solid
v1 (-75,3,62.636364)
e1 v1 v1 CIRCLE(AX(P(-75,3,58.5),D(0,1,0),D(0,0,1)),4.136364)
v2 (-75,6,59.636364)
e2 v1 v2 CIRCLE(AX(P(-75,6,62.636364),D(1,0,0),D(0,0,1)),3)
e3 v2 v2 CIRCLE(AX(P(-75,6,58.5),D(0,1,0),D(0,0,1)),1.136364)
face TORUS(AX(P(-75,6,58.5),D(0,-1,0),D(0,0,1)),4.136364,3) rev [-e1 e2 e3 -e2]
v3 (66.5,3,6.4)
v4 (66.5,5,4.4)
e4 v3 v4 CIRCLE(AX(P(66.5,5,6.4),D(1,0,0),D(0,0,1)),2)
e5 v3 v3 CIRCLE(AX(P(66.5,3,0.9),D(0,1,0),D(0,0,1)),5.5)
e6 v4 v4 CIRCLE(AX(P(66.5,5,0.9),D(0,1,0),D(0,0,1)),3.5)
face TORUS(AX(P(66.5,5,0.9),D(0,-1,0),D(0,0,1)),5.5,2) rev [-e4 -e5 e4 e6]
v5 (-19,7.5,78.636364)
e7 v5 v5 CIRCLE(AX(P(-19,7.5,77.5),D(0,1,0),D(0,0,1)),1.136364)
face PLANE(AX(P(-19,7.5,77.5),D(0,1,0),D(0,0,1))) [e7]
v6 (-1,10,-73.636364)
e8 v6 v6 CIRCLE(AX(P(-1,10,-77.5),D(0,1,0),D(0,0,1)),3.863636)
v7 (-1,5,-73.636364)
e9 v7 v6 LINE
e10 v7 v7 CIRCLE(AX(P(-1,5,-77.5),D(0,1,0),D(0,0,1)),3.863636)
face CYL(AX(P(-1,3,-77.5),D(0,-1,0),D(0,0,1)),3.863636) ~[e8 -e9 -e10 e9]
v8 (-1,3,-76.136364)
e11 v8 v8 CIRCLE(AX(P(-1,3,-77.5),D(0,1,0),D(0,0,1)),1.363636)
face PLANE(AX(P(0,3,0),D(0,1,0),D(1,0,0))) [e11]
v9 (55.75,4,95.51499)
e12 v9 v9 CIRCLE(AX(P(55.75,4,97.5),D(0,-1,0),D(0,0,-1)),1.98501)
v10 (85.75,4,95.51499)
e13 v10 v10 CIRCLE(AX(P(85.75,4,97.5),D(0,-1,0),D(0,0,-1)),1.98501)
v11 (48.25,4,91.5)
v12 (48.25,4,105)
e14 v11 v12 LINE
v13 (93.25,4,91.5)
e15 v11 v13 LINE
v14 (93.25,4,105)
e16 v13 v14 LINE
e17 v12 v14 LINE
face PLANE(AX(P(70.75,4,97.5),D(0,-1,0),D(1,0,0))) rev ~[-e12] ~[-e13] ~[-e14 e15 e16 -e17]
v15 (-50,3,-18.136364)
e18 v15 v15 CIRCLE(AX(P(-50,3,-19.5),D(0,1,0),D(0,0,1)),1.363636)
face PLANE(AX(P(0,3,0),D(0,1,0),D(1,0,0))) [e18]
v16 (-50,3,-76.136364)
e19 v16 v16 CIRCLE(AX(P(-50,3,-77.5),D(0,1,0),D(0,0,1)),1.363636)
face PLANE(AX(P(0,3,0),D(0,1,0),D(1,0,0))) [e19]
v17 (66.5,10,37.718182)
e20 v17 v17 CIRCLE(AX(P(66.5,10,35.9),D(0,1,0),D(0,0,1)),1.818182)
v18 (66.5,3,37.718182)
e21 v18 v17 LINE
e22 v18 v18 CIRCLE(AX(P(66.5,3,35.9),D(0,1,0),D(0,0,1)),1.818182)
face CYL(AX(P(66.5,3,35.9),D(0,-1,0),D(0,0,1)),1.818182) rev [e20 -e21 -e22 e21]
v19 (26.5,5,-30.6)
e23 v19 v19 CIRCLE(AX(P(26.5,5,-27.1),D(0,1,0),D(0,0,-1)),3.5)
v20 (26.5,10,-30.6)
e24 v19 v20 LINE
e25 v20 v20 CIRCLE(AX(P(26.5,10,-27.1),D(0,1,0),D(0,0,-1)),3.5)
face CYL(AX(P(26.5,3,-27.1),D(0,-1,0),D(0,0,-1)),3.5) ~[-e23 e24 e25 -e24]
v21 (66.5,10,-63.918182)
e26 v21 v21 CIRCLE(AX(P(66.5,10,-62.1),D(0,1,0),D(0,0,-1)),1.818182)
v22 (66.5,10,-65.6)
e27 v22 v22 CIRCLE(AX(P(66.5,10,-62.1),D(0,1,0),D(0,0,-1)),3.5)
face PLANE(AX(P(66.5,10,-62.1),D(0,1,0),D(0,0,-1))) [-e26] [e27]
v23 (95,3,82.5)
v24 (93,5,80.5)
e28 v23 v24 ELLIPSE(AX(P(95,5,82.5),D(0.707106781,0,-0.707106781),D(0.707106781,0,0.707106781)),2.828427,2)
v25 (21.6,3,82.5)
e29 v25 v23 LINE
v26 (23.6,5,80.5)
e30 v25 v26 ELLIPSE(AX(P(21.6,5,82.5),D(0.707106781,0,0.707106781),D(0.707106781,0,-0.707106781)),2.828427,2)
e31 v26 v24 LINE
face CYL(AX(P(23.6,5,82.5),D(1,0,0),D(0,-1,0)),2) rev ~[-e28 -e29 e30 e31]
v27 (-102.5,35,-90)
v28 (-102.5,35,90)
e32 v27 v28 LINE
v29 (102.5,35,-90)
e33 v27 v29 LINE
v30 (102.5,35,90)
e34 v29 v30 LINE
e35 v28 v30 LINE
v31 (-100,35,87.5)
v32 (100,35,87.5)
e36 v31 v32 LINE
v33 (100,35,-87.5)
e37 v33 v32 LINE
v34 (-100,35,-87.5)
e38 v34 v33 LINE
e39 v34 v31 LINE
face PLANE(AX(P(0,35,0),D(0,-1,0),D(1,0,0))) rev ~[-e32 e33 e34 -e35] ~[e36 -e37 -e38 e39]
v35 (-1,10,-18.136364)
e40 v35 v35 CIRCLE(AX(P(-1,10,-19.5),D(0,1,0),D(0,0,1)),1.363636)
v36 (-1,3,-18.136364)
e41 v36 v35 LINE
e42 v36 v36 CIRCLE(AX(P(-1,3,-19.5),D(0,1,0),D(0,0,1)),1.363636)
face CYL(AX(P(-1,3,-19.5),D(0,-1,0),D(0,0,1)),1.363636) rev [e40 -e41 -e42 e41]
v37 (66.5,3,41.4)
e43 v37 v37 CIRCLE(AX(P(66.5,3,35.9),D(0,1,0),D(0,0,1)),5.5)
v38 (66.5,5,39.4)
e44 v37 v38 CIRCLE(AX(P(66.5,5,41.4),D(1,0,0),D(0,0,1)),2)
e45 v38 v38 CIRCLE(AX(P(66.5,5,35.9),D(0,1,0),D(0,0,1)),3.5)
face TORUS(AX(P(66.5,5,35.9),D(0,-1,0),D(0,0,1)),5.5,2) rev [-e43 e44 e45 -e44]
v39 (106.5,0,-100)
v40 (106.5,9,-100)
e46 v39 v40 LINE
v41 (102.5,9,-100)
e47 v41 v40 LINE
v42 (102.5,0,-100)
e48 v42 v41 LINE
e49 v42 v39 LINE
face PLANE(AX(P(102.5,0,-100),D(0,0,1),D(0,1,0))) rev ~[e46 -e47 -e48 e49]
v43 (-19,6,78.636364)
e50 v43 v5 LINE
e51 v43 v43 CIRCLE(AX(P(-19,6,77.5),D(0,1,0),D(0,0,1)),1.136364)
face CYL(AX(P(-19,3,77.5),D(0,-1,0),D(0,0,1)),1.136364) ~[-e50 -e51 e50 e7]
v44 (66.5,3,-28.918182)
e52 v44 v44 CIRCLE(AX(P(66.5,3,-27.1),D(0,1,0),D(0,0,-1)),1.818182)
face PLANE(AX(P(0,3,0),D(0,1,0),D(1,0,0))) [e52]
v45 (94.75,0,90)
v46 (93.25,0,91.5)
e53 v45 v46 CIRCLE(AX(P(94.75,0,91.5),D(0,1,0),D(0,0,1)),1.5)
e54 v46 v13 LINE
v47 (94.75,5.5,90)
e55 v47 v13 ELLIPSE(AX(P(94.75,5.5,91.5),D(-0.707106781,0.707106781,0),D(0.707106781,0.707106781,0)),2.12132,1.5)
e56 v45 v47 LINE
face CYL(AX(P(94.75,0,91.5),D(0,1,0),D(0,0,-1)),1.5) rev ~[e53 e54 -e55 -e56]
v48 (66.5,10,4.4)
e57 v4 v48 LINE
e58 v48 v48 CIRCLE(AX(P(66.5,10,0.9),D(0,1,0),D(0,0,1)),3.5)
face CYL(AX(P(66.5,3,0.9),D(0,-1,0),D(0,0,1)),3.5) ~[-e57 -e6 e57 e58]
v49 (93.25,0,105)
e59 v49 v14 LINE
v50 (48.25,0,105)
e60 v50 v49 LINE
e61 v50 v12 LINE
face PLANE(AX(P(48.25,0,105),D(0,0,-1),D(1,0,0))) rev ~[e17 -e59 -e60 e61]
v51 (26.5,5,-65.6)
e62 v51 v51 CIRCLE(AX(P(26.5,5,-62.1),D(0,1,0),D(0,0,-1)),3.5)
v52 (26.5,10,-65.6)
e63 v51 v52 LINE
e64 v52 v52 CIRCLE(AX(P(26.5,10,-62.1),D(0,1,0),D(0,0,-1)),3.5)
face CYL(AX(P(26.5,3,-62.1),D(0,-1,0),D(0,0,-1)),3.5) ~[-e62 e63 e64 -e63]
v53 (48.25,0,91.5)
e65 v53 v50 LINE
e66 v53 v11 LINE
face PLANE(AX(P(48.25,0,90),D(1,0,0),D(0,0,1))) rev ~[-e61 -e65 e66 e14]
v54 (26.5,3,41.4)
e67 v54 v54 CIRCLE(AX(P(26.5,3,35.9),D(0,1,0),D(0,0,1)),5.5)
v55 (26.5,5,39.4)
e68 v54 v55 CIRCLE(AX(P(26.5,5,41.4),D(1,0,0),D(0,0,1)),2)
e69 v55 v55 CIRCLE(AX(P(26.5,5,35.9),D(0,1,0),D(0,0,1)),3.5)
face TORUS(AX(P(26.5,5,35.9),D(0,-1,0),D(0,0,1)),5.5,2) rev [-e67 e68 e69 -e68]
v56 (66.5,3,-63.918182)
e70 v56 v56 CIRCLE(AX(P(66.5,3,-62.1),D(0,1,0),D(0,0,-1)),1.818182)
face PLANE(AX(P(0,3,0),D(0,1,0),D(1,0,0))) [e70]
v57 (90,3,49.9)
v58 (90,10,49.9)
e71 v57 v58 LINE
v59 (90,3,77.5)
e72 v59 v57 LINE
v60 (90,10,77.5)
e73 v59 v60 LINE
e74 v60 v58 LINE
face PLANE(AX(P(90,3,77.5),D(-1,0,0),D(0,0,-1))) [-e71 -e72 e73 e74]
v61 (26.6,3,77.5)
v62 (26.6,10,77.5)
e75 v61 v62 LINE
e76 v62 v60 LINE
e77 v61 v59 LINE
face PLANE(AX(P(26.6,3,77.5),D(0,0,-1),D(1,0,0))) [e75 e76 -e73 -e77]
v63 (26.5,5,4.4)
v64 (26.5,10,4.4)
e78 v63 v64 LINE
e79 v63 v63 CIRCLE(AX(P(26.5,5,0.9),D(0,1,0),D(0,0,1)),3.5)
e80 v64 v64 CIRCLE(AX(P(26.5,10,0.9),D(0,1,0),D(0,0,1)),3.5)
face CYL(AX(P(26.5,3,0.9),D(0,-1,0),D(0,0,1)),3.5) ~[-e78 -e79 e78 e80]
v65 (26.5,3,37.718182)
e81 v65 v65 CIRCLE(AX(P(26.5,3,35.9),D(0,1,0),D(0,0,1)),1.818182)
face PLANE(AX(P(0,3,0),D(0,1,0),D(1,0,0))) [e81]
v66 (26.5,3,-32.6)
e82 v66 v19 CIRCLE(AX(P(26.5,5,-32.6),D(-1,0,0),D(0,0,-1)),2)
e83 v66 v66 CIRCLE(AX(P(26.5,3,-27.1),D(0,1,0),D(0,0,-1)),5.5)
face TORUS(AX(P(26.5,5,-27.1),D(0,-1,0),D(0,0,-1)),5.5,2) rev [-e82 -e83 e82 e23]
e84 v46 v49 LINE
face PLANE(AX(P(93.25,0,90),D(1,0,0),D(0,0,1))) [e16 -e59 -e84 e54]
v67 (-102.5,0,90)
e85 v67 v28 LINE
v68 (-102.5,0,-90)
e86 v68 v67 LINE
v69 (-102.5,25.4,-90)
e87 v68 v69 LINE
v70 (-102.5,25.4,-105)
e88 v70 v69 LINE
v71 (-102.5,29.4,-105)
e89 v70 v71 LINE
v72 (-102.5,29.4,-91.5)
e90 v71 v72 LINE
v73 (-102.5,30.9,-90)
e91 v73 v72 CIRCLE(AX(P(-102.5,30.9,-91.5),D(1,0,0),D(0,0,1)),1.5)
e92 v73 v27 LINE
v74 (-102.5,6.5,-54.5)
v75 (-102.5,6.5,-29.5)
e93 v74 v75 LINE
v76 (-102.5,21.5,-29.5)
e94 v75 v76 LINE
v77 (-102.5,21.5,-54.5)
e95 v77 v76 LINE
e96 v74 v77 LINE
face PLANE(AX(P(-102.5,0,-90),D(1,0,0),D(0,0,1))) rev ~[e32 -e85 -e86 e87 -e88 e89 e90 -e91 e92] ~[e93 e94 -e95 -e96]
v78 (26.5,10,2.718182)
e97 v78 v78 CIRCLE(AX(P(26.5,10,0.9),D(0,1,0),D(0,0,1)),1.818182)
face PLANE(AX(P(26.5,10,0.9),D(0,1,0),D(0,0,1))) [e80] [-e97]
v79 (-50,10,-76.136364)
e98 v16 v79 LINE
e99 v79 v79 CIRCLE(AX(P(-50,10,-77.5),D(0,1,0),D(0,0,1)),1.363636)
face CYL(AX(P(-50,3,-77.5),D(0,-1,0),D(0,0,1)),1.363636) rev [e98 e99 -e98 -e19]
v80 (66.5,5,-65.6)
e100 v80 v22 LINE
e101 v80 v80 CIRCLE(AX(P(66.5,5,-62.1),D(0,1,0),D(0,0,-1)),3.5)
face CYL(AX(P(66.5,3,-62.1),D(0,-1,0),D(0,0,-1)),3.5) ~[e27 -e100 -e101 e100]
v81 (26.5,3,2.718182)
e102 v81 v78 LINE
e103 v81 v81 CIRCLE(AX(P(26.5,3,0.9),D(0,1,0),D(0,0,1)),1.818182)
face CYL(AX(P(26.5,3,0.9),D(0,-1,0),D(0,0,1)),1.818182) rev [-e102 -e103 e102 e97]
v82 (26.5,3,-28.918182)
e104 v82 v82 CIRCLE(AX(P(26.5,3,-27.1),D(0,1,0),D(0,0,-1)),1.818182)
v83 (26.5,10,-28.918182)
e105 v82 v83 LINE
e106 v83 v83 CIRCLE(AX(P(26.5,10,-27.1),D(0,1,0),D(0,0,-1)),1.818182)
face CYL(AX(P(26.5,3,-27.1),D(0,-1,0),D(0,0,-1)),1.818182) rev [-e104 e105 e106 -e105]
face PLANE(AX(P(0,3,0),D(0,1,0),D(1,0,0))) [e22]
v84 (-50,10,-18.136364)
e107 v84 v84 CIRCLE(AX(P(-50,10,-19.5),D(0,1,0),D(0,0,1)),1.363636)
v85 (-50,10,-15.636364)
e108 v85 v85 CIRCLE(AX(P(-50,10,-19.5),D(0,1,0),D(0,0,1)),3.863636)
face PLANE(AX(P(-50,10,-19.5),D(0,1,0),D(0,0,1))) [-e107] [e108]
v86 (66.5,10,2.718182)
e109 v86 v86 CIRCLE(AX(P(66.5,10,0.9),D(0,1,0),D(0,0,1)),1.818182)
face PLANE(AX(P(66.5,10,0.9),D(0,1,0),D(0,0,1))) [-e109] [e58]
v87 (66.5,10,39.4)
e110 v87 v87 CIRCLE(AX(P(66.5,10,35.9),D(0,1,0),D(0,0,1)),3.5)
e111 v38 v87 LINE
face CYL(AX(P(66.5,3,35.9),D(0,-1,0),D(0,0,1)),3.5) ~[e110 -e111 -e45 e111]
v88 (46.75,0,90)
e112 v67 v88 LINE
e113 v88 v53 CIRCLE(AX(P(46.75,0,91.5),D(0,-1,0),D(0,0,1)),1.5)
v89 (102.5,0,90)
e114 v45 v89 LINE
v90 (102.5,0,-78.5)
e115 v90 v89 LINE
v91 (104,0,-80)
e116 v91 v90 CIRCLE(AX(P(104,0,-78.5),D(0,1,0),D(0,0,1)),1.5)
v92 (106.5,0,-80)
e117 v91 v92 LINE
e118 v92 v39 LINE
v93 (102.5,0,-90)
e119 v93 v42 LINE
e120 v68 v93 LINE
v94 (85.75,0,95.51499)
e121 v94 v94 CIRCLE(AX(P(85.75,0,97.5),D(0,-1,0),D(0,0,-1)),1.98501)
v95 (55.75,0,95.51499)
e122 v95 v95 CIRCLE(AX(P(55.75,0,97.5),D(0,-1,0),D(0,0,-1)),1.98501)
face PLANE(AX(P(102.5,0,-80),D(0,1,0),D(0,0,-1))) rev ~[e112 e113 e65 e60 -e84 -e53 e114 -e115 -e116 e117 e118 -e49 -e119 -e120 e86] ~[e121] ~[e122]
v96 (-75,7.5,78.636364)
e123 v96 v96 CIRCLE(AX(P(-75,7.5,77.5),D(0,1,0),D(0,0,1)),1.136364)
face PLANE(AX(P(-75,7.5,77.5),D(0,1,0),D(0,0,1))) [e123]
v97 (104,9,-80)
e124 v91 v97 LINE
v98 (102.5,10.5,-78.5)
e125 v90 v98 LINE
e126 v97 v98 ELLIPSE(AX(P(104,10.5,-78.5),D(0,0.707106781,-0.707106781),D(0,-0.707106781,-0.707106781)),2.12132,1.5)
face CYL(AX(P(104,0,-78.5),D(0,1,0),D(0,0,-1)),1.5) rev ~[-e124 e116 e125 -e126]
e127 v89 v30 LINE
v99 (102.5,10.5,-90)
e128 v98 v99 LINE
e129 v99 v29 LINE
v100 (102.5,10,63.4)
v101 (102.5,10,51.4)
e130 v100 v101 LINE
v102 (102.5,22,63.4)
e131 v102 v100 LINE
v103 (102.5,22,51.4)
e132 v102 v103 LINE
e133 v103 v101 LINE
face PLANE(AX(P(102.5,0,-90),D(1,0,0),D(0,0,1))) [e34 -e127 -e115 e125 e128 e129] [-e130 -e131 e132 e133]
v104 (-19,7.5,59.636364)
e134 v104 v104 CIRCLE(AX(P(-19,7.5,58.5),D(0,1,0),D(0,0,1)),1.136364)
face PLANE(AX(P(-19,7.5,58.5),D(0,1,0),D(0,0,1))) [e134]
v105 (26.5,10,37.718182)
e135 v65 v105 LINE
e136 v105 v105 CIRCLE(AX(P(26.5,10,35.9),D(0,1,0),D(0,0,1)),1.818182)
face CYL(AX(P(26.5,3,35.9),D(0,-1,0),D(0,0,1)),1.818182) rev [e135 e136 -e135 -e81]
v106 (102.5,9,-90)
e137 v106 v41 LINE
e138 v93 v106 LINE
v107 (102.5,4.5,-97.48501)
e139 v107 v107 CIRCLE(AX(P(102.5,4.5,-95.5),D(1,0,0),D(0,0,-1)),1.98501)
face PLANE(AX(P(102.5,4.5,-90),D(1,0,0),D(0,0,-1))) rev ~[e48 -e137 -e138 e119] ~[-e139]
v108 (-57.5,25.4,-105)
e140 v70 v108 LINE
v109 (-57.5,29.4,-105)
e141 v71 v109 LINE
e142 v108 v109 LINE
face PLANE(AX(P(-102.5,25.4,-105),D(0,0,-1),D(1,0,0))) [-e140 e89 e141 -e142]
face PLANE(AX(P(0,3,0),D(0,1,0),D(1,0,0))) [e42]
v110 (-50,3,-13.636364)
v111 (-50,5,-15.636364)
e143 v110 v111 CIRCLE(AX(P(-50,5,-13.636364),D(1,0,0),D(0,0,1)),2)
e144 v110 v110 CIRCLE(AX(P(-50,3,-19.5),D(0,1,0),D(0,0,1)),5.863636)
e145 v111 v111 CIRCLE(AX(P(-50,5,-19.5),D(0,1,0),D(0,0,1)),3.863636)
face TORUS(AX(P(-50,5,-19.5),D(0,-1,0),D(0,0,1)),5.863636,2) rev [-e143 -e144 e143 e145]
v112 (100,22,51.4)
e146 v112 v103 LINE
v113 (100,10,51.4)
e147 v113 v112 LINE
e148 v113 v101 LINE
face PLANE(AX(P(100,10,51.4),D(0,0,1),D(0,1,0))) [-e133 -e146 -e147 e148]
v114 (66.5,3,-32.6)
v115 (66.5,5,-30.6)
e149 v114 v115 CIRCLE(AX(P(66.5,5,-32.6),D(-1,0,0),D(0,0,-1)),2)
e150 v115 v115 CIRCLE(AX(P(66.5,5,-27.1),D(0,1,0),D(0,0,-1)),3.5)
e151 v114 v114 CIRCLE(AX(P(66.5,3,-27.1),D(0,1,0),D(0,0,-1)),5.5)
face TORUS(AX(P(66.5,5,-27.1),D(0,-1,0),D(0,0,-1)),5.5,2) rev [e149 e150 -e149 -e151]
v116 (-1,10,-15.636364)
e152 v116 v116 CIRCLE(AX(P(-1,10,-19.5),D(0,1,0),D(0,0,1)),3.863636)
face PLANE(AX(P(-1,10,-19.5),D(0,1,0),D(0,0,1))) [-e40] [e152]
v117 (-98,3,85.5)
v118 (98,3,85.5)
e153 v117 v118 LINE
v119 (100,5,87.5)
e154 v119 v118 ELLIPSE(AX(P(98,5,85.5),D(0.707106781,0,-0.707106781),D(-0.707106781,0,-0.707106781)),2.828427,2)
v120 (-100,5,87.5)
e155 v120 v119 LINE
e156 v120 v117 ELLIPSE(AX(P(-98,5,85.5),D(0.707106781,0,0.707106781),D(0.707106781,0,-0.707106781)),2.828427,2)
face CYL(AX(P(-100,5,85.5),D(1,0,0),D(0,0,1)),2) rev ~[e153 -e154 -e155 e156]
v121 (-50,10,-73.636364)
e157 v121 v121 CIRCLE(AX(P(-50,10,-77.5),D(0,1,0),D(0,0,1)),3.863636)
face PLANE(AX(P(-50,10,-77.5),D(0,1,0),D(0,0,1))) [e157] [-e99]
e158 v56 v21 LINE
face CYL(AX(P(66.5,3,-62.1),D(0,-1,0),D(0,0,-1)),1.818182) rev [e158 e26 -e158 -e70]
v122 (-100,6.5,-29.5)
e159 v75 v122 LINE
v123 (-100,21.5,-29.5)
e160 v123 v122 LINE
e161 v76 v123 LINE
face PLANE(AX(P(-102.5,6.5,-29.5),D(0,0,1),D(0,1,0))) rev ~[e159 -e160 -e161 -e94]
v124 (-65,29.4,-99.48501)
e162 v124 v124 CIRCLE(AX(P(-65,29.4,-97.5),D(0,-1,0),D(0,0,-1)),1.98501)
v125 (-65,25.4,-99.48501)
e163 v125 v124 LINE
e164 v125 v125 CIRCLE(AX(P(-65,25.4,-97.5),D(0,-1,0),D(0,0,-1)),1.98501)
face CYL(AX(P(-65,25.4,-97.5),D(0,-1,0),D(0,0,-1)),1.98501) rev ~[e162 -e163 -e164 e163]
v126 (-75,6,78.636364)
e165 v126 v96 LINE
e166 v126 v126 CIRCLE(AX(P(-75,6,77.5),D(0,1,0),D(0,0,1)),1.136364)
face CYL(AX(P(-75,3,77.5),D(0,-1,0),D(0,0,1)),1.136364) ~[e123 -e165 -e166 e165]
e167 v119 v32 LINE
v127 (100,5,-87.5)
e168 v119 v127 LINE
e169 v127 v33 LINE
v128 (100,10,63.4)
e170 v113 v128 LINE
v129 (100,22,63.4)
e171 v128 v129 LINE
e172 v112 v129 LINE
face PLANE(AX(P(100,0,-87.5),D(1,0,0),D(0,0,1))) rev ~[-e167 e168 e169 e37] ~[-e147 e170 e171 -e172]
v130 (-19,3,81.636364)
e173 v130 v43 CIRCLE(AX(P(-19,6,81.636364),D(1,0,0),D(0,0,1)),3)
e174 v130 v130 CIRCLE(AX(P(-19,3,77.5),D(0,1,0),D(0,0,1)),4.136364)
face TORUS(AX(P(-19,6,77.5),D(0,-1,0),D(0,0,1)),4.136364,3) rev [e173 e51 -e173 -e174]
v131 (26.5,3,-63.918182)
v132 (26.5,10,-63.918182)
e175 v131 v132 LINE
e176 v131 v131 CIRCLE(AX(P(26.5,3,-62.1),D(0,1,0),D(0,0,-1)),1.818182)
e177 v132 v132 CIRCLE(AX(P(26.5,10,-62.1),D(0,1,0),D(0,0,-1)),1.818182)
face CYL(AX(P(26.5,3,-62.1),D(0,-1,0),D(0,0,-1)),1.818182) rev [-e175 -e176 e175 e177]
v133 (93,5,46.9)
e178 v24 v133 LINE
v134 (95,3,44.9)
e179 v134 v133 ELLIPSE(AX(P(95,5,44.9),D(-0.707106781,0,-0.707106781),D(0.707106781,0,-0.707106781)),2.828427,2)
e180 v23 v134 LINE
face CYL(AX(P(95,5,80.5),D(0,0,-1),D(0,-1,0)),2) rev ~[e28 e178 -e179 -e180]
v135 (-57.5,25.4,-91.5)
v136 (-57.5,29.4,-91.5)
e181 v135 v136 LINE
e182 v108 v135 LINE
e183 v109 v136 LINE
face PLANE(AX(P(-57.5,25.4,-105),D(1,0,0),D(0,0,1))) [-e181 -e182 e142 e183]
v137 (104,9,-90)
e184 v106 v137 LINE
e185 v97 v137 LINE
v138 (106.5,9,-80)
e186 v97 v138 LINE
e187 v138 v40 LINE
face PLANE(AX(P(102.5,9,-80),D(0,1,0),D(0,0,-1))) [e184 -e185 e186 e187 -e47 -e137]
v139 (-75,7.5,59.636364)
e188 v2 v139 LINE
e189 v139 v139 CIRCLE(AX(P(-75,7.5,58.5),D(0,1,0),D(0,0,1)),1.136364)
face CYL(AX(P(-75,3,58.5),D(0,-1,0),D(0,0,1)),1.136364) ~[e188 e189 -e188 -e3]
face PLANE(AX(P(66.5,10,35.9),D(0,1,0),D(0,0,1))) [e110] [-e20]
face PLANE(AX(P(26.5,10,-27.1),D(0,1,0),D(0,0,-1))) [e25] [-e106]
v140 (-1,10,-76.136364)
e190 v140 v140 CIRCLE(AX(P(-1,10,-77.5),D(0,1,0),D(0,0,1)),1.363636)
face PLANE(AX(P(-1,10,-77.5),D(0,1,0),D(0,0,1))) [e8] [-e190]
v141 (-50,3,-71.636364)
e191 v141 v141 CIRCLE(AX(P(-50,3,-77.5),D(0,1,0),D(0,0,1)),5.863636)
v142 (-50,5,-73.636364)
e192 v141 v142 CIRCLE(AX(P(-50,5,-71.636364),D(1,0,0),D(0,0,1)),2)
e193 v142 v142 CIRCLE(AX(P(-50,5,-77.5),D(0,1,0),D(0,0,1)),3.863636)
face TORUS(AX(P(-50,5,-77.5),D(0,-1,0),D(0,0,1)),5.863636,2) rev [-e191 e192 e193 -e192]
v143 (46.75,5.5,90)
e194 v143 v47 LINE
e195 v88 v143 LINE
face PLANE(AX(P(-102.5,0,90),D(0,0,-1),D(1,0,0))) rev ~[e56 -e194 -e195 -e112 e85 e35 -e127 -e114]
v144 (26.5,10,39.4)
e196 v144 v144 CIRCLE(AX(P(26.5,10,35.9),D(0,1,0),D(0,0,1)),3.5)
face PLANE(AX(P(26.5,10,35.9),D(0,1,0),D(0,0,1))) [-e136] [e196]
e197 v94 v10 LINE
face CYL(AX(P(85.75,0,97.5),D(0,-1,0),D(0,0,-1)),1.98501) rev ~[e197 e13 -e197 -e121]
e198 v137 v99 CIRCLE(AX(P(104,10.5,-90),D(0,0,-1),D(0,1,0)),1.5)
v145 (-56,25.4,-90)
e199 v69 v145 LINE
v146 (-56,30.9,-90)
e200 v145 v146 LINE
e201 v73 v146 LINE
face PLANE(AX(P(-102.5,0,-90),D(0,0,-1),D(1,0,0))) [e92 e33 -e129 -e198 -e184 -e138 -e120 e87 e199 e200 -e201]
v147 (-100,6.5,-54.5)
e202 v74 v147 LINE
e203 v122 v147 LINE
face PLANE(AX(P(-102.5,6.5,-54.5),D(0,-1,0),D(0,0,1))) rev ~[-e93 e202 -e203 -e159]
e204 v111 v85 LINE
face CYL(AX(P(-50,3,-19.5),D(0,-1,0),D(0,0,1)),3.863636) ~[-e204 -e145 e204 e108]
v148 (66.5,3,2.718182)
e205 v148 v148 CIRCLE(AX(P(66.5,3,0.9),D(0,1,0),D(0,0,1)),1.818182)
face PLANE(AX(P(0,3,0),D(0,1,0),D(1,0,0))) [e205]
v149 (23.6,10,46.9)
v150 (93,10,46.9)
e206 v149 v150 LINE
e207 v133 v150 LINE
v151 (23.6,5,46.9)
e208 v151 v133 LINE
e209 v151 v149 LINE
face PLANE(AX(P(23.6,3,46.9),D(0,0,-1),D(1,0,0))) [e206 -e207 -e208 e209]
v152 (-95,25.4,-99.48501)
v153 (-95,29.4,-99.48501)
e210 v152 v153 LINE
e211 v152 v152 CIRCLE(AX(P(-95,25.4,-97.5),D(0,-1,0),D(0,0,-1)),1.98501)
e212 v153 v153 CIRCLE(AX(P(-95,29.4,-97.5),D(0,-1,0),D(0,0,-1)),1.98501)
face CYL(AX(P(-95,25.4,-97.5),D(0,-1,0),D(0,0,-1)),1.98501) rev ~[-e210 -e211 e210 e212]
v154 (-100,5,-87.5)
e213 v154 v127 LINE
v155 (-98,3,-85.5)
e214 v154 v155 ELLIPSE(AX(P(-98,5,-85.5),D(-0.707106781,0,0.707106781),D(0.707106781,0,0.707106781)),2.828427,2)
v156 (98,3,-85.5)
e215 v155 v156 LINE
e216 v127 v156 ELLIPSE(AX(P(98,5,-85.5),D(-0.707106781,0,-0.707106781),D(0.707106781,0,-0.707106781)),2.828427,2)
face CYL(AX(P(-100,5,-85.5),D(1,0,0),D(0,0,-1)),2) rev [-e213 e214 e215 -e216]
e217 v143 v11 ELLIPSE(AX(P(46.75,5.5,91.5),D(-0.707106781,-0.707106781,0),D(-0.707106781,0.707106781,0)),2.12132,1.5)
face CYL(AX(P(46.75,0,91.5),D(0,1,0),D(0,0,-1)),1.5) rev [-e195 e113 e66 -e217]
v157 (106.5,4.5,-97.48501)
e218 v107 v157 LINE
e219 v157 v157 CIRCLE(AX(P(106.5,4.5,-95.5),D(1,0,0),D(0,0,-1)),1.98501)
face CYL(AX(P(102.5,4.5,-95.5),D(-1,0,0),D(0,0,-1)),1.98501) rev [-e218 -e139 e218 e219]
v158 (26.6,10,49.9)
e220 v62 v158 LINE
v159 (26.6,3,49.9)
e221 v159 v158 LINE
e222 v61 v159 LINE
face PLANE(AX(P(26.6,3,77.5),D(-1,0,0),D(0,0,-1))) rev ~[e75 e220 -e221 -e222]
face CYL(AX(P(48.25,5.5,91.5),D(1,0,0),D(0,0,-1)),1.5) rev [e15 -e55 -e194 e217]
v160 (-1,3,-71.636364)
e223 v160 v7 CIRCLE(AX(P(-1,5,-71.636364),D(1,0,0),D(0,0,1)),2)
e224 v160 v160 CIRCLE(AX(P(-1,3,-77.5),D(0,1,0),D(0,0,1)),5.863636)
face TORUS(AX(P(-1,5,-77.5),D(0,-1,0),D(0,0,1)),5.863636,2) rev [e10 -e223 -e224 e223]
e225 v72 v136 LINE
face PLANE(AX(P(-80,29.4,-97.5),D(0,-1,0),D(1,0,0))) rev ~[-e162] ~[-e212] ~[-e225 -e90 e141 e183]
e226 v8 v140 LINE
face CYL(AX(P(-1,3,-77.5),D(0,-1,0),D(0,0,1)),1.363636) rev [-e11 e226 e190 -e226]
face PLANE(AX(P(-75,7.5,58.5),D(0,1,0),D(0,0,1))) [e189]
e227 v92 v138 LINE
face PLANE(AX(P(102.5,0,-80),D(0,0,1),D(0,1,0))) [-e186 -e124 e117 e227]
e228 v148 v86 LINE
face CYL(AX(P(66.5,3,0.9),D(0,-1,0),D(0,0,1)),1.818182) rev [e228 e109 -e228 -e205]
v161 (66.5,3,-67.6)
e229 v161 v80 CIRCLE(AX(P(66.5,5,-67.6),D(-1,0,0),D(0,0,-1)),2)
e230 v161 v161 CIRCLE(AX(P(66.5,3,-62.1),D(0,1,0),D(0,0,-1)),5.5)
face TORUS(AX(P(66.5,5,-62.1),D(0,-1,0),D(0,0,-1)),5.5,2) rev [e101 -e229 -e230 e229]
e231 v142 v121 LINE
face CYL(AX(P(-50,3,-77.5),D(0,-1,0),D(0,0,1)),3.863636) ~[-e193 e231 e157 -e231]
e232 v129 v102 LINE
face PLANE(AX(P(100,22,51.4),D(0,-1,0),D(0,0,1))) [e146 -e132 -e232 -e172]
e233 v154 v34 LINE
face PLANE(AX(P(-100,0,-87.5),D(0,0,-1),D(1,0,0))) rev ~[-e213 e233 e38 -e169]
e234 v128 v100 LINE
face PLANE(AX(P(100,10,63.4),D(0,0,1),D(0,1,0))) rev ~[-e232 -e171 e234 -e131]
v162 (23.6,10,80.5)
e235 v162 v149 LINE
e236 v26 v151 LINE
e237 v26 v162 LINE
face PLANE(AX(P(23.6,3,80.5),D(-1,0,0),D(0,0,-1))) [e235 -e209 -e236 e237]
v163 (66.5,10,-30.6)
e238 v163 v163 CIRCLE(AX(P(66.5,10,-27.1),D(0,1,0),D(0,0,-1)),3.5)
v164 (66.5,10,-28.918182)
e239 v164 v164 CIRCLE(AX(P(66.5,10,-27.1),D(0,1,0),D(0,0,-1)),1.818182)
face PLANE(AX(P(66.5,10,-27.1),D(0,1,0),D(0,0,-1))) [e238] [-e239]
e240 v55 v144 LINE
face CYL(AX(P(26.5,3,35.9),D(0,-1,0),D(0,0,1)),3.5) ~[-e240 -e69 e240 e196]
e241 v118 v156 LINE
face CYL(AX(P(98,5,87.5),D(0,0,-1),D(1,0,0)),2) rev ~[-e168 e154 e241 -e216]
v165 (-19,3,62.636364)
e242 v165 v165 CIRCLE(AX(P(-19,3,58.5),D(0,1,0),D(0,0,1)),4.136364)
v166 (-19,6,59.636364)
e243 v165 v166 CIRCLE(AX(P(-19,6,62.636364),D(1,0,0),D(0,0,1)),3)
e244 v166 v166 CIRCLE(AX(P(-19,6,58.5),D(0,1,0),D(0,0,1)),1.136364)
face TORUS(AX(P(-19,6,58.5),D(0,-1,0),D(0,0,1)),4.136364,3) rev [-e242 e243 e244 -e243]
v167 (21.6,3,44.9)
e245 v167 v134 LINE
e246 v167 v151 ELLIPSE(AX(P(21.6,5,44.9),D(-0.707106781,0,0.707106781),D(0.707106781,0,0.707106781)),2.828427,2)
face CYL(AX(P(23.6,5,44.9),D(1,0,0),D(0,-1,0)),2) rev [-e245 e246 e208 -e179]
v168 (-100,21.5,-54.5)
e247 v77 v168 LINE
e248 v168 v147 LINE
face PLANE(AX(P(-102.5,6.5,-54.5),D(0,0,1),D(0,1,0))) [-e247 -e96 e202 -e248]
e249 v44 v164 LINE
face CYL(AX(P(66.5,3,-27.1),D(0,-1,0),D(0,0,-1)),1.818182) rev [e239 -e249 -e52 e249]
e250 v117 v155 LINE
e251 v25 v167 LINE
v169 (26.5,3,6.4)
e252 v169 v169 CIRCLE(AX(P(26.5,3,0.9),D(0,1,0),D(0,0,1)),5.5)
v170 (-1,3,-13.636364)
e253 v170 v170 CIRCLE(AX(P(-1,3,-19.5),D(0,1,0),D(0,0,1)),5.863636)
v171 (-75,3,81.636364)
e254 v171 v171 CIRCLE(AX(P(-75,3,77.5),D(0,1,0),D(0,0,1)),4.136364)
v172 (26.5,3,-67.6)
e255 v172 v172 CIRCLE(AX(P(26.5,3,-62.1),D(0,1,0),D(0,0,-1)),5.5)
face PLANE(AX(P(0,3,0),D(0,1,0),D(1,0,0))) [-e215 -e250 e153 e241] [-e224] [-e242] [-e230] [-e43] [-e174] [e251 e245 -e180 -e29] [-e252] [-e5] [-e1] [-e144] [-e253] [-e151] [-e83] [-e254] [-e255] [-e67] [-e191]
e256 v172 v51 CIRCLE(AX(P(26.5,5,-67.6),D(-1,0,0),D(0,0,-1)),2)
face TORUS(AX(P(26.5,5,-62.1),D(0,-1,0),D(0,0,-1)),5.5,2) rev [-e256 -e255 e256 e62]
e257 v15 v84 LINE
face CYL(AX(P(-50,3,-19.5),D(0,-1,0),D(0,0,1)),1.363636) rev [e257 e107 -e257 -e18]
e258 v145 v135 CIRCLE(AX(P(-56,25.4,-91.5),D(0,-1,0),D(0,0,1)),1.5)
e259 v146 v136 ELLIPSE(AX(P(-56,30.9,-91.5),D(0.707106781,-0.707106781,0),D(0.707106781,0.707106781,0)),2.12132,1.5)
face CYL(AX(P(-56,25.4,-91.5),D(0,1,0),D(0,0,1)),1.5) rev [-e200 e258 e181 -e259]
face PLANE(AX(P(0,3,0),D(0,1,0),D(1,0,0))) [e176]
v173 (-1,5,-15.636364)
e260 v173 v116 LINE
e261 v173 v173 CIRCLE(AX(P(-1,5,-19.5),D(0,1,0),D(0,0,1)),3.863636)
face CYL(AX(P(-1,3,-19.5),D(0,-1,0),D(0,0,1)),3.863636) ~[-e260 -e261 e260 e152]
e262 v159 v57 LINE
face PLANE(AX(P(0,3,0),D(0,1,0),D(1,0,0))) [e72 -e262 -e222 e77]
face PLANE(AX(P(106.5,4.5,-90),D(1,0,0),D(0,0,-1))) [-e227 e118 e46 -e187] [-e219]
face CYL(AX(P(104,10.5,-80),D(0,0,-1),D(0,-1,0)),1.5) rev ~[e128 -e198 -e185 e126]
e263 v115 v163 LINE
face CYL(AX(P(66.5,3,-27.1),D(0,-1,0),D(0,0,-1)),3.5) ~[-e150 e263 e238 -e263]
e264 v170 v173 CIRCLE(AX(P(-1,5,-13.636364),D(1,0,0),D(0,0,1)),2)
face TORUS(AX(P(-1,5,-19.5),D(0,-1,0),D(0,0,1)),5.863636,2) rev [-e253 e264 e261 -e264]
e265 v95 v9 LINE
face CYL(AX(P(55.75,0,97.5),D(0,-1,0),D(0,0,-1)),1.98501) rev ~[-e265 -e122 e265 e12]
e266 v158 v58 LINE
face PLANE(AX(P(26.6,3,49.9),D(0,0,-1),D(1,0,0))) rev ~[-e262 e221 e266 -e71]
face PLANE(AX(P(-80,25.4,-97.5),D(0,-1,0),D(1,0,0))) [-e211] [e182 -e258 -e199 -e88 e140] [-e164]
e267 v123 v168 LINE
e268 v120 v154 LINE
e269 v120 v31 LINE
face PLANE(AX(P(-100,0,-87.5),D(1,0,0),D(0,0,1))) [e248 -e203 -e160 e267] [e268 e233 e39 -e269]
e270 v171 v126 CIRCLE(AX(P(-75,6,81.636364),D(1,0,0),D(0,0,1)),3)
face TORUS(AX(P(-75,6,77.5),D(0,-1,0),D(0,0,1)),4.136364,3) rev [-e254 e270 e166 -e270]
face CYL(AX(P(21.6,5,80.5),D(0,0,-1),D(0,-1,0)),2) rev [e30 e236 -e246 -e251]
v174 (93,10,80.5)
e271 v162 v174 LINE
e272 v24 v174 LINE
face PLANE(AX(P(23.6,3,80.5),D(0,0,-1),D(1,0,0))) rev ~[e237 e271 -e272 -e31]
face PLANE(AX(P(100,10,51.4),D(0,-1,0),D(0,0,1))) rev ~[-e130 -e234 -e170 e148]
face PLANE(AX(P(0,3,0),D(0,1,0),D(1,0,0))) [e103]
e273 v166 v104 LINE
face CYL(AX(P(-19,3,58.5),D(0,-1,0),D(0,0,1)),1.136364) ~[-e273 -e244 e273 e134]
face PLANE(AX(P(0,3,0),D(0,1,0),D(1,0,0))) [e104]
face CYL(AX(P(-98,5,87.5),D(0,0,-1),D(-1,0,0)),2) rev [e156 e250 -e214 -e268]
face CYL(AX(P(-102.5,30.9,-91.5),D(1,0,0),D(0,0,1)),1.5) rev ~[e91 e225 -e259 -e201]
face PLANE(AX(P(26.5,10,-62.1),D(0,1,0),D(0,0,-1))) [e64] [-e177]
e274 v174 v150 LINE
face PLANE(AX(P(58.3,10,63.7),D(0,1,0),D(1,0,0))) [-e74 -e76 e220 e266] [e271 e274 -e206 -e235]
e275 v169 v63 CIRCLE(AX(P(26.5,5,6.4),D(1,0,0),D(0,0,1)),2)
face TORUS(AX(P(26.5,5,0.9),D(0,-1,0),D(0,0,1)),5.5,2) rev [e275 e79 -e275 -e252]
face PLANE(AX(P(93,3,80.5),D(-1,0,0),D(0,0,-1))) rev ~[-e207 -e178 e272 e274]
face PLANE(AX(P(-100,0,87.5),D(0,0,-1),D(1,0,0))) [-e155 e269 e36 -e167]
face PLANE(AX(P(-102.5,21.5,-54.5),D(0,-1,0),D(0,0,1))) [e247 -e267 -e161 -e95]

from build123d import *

# Parameters (mm, degrees)
SKETCH1_W           = 200
SKETCH1_H           = 175
BOSS_EXTRUDE1_DEPTH = 3
SKETCH2_W           = 69.4
SKETCH2_H           = 33.6
SKETCH2_W_2         = 63.4
SKETCH2_H_2         = 27.6
BOSS_EXTRUDE2_DEPTH = 7
SKETCH3_R           = 3.5
SKETCH3_R_2         = 1.818181818
BOSS_EXTRUDE3_DEPTH = 7
SKETCH4_R           = 3.863636364
SKETCH4_R_2         = 1.363636364
BOSS_EXTRUDE4_DEPTH = 7
SKETCH6_W           = 205
SKETCH6_H           = 180
SKETCH6_W_2         = 200
SKETCH6_H_2         = 175
BOSS_EXTRUDE5_DEPTH = 35
FILLET1_R           = 2
SKETCH7_W           = 12
SKETCH7_H           = 12
CUT_EXTRUDE1_DEPTH  = 225.346272534
SKETCH8_R           = 1.136363636
BOSS_EXTRUDE6_DEPTH = 4.5
FILLET2_R           = 3
SKETCH9_W           = 25
SKETCH9_H           = 15
CUT_EXTRUDE2_DEPTH  = 10
SKETCH10_W          = 20
SKETCH10_H          = 9
SKETCH10_R          = 1.98501
BOSS_EXTRUDE7_DEPTH = 4
SKETCH11_W          = 45
SKETCH11_H          = 15
SKETCH11_R          = 1.98501
BOSS_EXTRUDE8_DEPTH = 4
BOSS_EXTRUDE9_START = -25.4
SKETCH12_W          = 45
SKETCH12_H          = 15
SKETCH12_R          = 1.98501
BOSS_EXTRUDE9_DEPTH = 4
FILLET3_R           = 1.5


with BuildPart() as part:
    # Sketch1 → Boss-Extrude1 (new body)
    with BuildSketch(Plane(origin=(0, 0, 0), x_dir=(1, 0, 0), z_dir=(0, 1, 0))):
        Rectangle(SKETCH1_W, SKETCH1_H)
    extrude(amount=BOSS_EXTRUDE1_DEPTH)

    # Sketch2 → Boss-Extrude2 (add)
    with BuildSketch(Plane(origin=(0, 3, 0), x_dir=(1, 0, 0), z_dir=(0, 1, 0))):
        with Locations((58.3, -63.7)):
            Rectangle(SKETCH2_W, SKETCH2_H)
        with Locations((58.3, -63.7)):
            Rectangle(SKETCH2_W_2, SKETCH2_H_2, mode=Mode.SUBTRACT)
    extrude(amount=BOSS_EXTRUDE2_DEPTH)

    # Sketch3 → Boss-Extrude3 (add)
    # profile 1 of 8: a face of its own
    with BuildSketch(Plane(origin=(0, 3, 0), x_dir=(1, 0, 0), z_dir=(0, 1, 0))):
        with Locations(Location((26.5, -0.9, 0), (0, 0, 270))):
            Circle(SKETCH3_R)
        with Locations(Location((26.5, -0.9, 0), (0, 0, 270))):
            Circle(SKETCH3_R_2, mode=Mode.SUBTRACT)
    # profile 2 of 8: a face of its own
    with BuildSketch(Plane(origin=(0, 3, 0), x_dir=(1, 0, 0), z_dir=(0, 1, 0))):
        with Locations(Location((26.5, -35.9, 0), (0, 0, 270))):
            Circle(SKETCH3_R)
        with Locations(Location((26.5, -35.9, 0), (0, 0, 270))):
            Circle(SKETCH3_R_2, mode=Mode.SUBTRACT)
    # profile 3 of 8: a face of its own
    with BuildSketch(Plane(origin=(0, 3, 0), x_dir=(1, 0, 0), z_dir=(0, 1, 0))):
        with Locations(Location((66.5, -0.9, 0), (0, 0, 270))):
            Circle(SKETCH3_R)
        with Locations(Location((66.5, -0.9, 0), (0, 0, 270))):
            Circle(SKETCH3_R_2, mode=Mode.SUBTRACT)
    # profile 4 of 8: a face of its own
    with BuildSketch(Plane(origin=(0, 3, 0), x_dir=(1, 0, 0), z_dir=(0, 1, 0))):
        with Locations(Location((66.5, -35.9, 0), (0, 0, 270))):
            Circle(SKETCH3_R)
        with Locations(Location((66.5, -35.9, 0), (0, 0, 270))):
            Circle(SKETCH3_R_2, mode=Mode.SUBTRACT)
    # profile 5 of 8: a face of its own
    with BuildSketch(Plane(origin=(0, 3, 0), x_dir=(1, 0, 0), z_dir=(0, 1, 0))):
        with Locations(Location((66.5, 27.1, 0), (0, 0, 90))):
            Circle(SKETCH3_R)
        with Locations(Location((66.5, 27.1, 0), (0, 0, 90))):
            Circle(SKETCH3_R_2, mode=Mode.SUBTRACT)
    # profile 6 of 8: a face of its own
    with BuildSketch(Plane(origin=(0, 3, 0), x_dir=(1, 0, 0), z_dir=(0, 1, 0))):
        with Locations(Location((66.5, 62.1, 0), (0, 0, 90))):
            Circle(SKETCH3_R)
        with Locations(Location((66.5, 62.1, 0), (0, 0, 90))):
            Circle(SKETCH3_R_2, mode=Mode.SUBTRACT)
    # profile 7 of 8: a face of its own
    with BuildSketch(Plane(origin=(0, 3, 0), x_dir=(1, 0, 0), z_dir=(0, 1, 0))):
        with Locations(Location((26.5, 62.1, 0), (0, 0, 90))):
            Circle(SKETCH3_R)
        with Locations(Location((26.5, 62.1, 0), (0, 0, 90))):
            Circle(SKETCH3_R_2, mode=Mode.SUBTRACT)
    # profile 8 of 8: a face of its own
    with BuildSketch(Plane(origin=(0, 3, 0), x_dir=(1, 0, 0), z_dir=(0, 1, 0))):
        with Locations(Location((26.5, 27.1, 0), (0, 0, 90))):
            Circle(SKETCH3_R)
        with Locations(Location((26.5, 27.1, 0), (0, 0, 90))):
            Circle(SKETCH3_R_2, mode=Mode.SUBTRACT)
    extrude(amount=BOSS_EXTRUDE3_DEPTH)

    # Sketch4 → Boss-Extrude4 (add)
    # profile 1 of 4: a face of its own
    with BuildSketch(Plane(origin=(0, 3, 0), x_dir=(1, 0, 0), z_dir=(0, 1, 0))):
        with Locations(Location((-50, 77.5, 0), (0, 0, 270))):
            Circle(SKETCH4_R)
        with Locations(Location((-50, 77.5, 0), (0, 0, 270))):
            Circle(SKETCH4_R_2, mode=Mode.SUBTRACT)
    # profile 2 of 4: a face of its own
    with BuildSketch(Plane(origin=(0, 3, 0), x_dir=(1, 0, 0), z_dir=(0, 1, 0))):
        with Locations(Location((-1, 77.5, 0), (0, 0, 270))):
            Circle(SKETCH4_R)
        with Locations(Location((-1, 77.5, 0), (0, 0, 270))):
            Circle(SKETCH4_R_2, mode=Mode.SUBTRACT)
    # profile 3 of 4: a face of its own
    with BuildSketch(Plane(origin=(0, 3, 0), x_dir=(1, 0, 0), z_dir=(0, 1, 0))):
        with Locations(Location((-1, 19.5, 0), (0, 0, 270))):
            Circle(SKETCH4_R)
        with Locations(Location((-1, 19.5, 0), (0, 0, 270))):
            Circle(SKETCH4_R_2, mode=Mode.SUBTRACT)
    # profile 4 of 4: a face of its own
    with BuildSketch(Plane(origin=(0, 3, 0), x_dir=(1, 0, 0), z_dir=(0, 1, 0))):
        with Locations(Location((-50, 19.5, 0), (0, 0, 270))):
            Circle(SKETCH4_R)
        with Locations(Location((-50, 19.5, 0), (0, 0, 270))):
            Circle(SKETCH4_R_2, mode=Mode.SUBTRACT)
    extrude(amount=BOSS_EXTRUDE4_DEPTH)

    # Sketch6 → Boss-Extrude5 (add)
    with BuildSketch(Plane.XZ):
        Rectangle(SKETCH6_W, SKETCH6_H)
        Rectangle(SKETCH6_W_2, SKETCH6_H_2, mode=Mode.SUBTRACT)
    extrude(amount=-BOSS_EXTRUDE5_DEPTH)

    # Fillet1
    fillet1_edges = [part.edges().sort_by_distance(p)[0] for p in [
        (-50, 3, -81.363636364),
        (-1, 3, -81.363636364),
        (-1, 3, -23.363636364),
        (-50, 3, -23.363636364),
        (100, 3, 0),
        (0, 3, -87.5),
        (58.3, 3, 46.9),
        (23.6, 3, 63.7),
        (58.3, 3, 80.5),
        (93, 3, 63.7),
        (26.5, 3, 32.4),
        (26.5, 3, -2.6),
        (-100, 3, 0),
        (66.5, 3, -2.6),
        (66.5, 3, 32.4),
        (66.5, 3, -23.6),
        (66.5, 3, -58.6),
        (26.5, 3, -58.6),
        (26.5, 3, -23.6),
        (0, 3, 87.5),
    ]]
    fillet(fillet1_edges, radius=FILLET1_R)

    # Sketch7 → Cut-Extrude1 (cut, through all)
    with BuildSketch(Plane.ZY.offset(-100)):
        with Locations((57.4, 16)):
            Rectangle(SKETCH7_W, SKETCH7_H)
    extrude(amount=-CUT_EXTRUDE1_DEPTH, mode=Mode.SUBTRACT)

    # Sketch8 → Boss-Extrude6 (add)
    with BuildSketch(Plane(origin=(0, 3, 0), x_dir=(1, 0, 0), z_dir=(0, 1, 0))):
        with Locations(Location((-19, -58.5, 0), (0, 0, 270))):
            Circle(SKETCH8_R)
        with Locations(Location((-75, -58.5, 0), (0, 0, 270))):
            Circle(SKETCH8_R)
        with Locations(Location((-75, -77.5, 0), (0, 0, 270))):
            Circle(SKETCH8_R)
        with Locations(Location((-19, -77.5, 0), (0, 0, 270))):
            Circle(SKETCH8_R)
    extrude(amount=BOSS_EXTRUDE6_DEPTH)

    # Fillet2
    fillet2_edges = [part.edges().sort_by_distance(p)[0] for p in [
        (-19, 3, 57.363636364),
        (-75, 3, 57.363636364),
        (-75, 3, 76.363636364),
        (-19, 3, 76.363636364),
    ]]
    fillet(fillet2_edges, radius=FILLET2_R)

    # Sketch9 → Cut-Extrude2 (cut)
    with BuildSketch(Plane.ZY.offset(102.5)):
        with Locations((-42, 14)):
            Rectangle(SKETCH9_W, SKETCH9_H)
    extrude(amount=-CUT_EXTRUDE2_DEPTH, mode=Mode.SUBTRACT)

    # Sketch10 → Boss-Extrude7 (add)
    with BuildSketch(Plane(origin=(102.5, 0, 0), x_dir=(0, 0, -1), z_dir=(1, 0, 0))):
        with Locations((90, 4.5)):
            Rectangle(SKETCH10_W, SKETCH10_H)
        with Locations((95.5, 4.5)):
            Circle(SKETCH10_R, mode=Mode.SUBTRACT)
    extrude(amount=BOSS_EXTRUDE7_DEPTH)

    # Sketch11 → Boss-Extrude8 (add)
    with BuildSketch(Plane.XZ):
        with Locations((70.75, 97.5)):
            Rectangle(SKETCH11_W, SKETCH11_H)
        with Locations(Location((55.75, 97.5, 0), (0, 0, 270))):
            Circle(SKETCH11_R, mode=Mode.SUBTRACT)
        with Locations(Location((85.75, 97.5, 0), (0, 0, 270))):
            Circle(SKETCH11_R, mode=Mode.SUBTRACT)
    extrude(amount=-BOSS_EXTRUDE8_DEPTH)

    # Sketch12 → Boss-Extrude9 (add)
    with BuildSketch(Plane.XZ.offset(BOSS_EXTRUDE9_START)):
        with Locations((-80, -97.5)):
            Rectangle(SKETCH12_W, SKETCH12_H)
        with Locations(Location((-95, -97.5, 0), (0, 0, 270))):
            Circle(SKETCH12_R, mode=Mode.SUBTRACT)
        with Locations(Location((-65, -97.5, 0), (0, 0, 270))):
            Circle(SKETCH12_R, mode=Mode.SUBTRACT)
    extrude(amount=-BOSS_EXTRUDE9_DEPTH)

    # Fillet3
    fillet3_edges = [part.edges().sort_by_distance(p)[0] for p in [
        (102.5, 9, -85),
        (102.5, 4.5, -80),
        (48.25, 2, 90),
        (70.75, 4, 90),
        (93.25, 2, 90),
        (-80, 29.4, -90),
        (-57.5, 27.4, -90),
    ]]
    fillet(fillet3_edges, radius=FILLET3_R)


solid = part.part
